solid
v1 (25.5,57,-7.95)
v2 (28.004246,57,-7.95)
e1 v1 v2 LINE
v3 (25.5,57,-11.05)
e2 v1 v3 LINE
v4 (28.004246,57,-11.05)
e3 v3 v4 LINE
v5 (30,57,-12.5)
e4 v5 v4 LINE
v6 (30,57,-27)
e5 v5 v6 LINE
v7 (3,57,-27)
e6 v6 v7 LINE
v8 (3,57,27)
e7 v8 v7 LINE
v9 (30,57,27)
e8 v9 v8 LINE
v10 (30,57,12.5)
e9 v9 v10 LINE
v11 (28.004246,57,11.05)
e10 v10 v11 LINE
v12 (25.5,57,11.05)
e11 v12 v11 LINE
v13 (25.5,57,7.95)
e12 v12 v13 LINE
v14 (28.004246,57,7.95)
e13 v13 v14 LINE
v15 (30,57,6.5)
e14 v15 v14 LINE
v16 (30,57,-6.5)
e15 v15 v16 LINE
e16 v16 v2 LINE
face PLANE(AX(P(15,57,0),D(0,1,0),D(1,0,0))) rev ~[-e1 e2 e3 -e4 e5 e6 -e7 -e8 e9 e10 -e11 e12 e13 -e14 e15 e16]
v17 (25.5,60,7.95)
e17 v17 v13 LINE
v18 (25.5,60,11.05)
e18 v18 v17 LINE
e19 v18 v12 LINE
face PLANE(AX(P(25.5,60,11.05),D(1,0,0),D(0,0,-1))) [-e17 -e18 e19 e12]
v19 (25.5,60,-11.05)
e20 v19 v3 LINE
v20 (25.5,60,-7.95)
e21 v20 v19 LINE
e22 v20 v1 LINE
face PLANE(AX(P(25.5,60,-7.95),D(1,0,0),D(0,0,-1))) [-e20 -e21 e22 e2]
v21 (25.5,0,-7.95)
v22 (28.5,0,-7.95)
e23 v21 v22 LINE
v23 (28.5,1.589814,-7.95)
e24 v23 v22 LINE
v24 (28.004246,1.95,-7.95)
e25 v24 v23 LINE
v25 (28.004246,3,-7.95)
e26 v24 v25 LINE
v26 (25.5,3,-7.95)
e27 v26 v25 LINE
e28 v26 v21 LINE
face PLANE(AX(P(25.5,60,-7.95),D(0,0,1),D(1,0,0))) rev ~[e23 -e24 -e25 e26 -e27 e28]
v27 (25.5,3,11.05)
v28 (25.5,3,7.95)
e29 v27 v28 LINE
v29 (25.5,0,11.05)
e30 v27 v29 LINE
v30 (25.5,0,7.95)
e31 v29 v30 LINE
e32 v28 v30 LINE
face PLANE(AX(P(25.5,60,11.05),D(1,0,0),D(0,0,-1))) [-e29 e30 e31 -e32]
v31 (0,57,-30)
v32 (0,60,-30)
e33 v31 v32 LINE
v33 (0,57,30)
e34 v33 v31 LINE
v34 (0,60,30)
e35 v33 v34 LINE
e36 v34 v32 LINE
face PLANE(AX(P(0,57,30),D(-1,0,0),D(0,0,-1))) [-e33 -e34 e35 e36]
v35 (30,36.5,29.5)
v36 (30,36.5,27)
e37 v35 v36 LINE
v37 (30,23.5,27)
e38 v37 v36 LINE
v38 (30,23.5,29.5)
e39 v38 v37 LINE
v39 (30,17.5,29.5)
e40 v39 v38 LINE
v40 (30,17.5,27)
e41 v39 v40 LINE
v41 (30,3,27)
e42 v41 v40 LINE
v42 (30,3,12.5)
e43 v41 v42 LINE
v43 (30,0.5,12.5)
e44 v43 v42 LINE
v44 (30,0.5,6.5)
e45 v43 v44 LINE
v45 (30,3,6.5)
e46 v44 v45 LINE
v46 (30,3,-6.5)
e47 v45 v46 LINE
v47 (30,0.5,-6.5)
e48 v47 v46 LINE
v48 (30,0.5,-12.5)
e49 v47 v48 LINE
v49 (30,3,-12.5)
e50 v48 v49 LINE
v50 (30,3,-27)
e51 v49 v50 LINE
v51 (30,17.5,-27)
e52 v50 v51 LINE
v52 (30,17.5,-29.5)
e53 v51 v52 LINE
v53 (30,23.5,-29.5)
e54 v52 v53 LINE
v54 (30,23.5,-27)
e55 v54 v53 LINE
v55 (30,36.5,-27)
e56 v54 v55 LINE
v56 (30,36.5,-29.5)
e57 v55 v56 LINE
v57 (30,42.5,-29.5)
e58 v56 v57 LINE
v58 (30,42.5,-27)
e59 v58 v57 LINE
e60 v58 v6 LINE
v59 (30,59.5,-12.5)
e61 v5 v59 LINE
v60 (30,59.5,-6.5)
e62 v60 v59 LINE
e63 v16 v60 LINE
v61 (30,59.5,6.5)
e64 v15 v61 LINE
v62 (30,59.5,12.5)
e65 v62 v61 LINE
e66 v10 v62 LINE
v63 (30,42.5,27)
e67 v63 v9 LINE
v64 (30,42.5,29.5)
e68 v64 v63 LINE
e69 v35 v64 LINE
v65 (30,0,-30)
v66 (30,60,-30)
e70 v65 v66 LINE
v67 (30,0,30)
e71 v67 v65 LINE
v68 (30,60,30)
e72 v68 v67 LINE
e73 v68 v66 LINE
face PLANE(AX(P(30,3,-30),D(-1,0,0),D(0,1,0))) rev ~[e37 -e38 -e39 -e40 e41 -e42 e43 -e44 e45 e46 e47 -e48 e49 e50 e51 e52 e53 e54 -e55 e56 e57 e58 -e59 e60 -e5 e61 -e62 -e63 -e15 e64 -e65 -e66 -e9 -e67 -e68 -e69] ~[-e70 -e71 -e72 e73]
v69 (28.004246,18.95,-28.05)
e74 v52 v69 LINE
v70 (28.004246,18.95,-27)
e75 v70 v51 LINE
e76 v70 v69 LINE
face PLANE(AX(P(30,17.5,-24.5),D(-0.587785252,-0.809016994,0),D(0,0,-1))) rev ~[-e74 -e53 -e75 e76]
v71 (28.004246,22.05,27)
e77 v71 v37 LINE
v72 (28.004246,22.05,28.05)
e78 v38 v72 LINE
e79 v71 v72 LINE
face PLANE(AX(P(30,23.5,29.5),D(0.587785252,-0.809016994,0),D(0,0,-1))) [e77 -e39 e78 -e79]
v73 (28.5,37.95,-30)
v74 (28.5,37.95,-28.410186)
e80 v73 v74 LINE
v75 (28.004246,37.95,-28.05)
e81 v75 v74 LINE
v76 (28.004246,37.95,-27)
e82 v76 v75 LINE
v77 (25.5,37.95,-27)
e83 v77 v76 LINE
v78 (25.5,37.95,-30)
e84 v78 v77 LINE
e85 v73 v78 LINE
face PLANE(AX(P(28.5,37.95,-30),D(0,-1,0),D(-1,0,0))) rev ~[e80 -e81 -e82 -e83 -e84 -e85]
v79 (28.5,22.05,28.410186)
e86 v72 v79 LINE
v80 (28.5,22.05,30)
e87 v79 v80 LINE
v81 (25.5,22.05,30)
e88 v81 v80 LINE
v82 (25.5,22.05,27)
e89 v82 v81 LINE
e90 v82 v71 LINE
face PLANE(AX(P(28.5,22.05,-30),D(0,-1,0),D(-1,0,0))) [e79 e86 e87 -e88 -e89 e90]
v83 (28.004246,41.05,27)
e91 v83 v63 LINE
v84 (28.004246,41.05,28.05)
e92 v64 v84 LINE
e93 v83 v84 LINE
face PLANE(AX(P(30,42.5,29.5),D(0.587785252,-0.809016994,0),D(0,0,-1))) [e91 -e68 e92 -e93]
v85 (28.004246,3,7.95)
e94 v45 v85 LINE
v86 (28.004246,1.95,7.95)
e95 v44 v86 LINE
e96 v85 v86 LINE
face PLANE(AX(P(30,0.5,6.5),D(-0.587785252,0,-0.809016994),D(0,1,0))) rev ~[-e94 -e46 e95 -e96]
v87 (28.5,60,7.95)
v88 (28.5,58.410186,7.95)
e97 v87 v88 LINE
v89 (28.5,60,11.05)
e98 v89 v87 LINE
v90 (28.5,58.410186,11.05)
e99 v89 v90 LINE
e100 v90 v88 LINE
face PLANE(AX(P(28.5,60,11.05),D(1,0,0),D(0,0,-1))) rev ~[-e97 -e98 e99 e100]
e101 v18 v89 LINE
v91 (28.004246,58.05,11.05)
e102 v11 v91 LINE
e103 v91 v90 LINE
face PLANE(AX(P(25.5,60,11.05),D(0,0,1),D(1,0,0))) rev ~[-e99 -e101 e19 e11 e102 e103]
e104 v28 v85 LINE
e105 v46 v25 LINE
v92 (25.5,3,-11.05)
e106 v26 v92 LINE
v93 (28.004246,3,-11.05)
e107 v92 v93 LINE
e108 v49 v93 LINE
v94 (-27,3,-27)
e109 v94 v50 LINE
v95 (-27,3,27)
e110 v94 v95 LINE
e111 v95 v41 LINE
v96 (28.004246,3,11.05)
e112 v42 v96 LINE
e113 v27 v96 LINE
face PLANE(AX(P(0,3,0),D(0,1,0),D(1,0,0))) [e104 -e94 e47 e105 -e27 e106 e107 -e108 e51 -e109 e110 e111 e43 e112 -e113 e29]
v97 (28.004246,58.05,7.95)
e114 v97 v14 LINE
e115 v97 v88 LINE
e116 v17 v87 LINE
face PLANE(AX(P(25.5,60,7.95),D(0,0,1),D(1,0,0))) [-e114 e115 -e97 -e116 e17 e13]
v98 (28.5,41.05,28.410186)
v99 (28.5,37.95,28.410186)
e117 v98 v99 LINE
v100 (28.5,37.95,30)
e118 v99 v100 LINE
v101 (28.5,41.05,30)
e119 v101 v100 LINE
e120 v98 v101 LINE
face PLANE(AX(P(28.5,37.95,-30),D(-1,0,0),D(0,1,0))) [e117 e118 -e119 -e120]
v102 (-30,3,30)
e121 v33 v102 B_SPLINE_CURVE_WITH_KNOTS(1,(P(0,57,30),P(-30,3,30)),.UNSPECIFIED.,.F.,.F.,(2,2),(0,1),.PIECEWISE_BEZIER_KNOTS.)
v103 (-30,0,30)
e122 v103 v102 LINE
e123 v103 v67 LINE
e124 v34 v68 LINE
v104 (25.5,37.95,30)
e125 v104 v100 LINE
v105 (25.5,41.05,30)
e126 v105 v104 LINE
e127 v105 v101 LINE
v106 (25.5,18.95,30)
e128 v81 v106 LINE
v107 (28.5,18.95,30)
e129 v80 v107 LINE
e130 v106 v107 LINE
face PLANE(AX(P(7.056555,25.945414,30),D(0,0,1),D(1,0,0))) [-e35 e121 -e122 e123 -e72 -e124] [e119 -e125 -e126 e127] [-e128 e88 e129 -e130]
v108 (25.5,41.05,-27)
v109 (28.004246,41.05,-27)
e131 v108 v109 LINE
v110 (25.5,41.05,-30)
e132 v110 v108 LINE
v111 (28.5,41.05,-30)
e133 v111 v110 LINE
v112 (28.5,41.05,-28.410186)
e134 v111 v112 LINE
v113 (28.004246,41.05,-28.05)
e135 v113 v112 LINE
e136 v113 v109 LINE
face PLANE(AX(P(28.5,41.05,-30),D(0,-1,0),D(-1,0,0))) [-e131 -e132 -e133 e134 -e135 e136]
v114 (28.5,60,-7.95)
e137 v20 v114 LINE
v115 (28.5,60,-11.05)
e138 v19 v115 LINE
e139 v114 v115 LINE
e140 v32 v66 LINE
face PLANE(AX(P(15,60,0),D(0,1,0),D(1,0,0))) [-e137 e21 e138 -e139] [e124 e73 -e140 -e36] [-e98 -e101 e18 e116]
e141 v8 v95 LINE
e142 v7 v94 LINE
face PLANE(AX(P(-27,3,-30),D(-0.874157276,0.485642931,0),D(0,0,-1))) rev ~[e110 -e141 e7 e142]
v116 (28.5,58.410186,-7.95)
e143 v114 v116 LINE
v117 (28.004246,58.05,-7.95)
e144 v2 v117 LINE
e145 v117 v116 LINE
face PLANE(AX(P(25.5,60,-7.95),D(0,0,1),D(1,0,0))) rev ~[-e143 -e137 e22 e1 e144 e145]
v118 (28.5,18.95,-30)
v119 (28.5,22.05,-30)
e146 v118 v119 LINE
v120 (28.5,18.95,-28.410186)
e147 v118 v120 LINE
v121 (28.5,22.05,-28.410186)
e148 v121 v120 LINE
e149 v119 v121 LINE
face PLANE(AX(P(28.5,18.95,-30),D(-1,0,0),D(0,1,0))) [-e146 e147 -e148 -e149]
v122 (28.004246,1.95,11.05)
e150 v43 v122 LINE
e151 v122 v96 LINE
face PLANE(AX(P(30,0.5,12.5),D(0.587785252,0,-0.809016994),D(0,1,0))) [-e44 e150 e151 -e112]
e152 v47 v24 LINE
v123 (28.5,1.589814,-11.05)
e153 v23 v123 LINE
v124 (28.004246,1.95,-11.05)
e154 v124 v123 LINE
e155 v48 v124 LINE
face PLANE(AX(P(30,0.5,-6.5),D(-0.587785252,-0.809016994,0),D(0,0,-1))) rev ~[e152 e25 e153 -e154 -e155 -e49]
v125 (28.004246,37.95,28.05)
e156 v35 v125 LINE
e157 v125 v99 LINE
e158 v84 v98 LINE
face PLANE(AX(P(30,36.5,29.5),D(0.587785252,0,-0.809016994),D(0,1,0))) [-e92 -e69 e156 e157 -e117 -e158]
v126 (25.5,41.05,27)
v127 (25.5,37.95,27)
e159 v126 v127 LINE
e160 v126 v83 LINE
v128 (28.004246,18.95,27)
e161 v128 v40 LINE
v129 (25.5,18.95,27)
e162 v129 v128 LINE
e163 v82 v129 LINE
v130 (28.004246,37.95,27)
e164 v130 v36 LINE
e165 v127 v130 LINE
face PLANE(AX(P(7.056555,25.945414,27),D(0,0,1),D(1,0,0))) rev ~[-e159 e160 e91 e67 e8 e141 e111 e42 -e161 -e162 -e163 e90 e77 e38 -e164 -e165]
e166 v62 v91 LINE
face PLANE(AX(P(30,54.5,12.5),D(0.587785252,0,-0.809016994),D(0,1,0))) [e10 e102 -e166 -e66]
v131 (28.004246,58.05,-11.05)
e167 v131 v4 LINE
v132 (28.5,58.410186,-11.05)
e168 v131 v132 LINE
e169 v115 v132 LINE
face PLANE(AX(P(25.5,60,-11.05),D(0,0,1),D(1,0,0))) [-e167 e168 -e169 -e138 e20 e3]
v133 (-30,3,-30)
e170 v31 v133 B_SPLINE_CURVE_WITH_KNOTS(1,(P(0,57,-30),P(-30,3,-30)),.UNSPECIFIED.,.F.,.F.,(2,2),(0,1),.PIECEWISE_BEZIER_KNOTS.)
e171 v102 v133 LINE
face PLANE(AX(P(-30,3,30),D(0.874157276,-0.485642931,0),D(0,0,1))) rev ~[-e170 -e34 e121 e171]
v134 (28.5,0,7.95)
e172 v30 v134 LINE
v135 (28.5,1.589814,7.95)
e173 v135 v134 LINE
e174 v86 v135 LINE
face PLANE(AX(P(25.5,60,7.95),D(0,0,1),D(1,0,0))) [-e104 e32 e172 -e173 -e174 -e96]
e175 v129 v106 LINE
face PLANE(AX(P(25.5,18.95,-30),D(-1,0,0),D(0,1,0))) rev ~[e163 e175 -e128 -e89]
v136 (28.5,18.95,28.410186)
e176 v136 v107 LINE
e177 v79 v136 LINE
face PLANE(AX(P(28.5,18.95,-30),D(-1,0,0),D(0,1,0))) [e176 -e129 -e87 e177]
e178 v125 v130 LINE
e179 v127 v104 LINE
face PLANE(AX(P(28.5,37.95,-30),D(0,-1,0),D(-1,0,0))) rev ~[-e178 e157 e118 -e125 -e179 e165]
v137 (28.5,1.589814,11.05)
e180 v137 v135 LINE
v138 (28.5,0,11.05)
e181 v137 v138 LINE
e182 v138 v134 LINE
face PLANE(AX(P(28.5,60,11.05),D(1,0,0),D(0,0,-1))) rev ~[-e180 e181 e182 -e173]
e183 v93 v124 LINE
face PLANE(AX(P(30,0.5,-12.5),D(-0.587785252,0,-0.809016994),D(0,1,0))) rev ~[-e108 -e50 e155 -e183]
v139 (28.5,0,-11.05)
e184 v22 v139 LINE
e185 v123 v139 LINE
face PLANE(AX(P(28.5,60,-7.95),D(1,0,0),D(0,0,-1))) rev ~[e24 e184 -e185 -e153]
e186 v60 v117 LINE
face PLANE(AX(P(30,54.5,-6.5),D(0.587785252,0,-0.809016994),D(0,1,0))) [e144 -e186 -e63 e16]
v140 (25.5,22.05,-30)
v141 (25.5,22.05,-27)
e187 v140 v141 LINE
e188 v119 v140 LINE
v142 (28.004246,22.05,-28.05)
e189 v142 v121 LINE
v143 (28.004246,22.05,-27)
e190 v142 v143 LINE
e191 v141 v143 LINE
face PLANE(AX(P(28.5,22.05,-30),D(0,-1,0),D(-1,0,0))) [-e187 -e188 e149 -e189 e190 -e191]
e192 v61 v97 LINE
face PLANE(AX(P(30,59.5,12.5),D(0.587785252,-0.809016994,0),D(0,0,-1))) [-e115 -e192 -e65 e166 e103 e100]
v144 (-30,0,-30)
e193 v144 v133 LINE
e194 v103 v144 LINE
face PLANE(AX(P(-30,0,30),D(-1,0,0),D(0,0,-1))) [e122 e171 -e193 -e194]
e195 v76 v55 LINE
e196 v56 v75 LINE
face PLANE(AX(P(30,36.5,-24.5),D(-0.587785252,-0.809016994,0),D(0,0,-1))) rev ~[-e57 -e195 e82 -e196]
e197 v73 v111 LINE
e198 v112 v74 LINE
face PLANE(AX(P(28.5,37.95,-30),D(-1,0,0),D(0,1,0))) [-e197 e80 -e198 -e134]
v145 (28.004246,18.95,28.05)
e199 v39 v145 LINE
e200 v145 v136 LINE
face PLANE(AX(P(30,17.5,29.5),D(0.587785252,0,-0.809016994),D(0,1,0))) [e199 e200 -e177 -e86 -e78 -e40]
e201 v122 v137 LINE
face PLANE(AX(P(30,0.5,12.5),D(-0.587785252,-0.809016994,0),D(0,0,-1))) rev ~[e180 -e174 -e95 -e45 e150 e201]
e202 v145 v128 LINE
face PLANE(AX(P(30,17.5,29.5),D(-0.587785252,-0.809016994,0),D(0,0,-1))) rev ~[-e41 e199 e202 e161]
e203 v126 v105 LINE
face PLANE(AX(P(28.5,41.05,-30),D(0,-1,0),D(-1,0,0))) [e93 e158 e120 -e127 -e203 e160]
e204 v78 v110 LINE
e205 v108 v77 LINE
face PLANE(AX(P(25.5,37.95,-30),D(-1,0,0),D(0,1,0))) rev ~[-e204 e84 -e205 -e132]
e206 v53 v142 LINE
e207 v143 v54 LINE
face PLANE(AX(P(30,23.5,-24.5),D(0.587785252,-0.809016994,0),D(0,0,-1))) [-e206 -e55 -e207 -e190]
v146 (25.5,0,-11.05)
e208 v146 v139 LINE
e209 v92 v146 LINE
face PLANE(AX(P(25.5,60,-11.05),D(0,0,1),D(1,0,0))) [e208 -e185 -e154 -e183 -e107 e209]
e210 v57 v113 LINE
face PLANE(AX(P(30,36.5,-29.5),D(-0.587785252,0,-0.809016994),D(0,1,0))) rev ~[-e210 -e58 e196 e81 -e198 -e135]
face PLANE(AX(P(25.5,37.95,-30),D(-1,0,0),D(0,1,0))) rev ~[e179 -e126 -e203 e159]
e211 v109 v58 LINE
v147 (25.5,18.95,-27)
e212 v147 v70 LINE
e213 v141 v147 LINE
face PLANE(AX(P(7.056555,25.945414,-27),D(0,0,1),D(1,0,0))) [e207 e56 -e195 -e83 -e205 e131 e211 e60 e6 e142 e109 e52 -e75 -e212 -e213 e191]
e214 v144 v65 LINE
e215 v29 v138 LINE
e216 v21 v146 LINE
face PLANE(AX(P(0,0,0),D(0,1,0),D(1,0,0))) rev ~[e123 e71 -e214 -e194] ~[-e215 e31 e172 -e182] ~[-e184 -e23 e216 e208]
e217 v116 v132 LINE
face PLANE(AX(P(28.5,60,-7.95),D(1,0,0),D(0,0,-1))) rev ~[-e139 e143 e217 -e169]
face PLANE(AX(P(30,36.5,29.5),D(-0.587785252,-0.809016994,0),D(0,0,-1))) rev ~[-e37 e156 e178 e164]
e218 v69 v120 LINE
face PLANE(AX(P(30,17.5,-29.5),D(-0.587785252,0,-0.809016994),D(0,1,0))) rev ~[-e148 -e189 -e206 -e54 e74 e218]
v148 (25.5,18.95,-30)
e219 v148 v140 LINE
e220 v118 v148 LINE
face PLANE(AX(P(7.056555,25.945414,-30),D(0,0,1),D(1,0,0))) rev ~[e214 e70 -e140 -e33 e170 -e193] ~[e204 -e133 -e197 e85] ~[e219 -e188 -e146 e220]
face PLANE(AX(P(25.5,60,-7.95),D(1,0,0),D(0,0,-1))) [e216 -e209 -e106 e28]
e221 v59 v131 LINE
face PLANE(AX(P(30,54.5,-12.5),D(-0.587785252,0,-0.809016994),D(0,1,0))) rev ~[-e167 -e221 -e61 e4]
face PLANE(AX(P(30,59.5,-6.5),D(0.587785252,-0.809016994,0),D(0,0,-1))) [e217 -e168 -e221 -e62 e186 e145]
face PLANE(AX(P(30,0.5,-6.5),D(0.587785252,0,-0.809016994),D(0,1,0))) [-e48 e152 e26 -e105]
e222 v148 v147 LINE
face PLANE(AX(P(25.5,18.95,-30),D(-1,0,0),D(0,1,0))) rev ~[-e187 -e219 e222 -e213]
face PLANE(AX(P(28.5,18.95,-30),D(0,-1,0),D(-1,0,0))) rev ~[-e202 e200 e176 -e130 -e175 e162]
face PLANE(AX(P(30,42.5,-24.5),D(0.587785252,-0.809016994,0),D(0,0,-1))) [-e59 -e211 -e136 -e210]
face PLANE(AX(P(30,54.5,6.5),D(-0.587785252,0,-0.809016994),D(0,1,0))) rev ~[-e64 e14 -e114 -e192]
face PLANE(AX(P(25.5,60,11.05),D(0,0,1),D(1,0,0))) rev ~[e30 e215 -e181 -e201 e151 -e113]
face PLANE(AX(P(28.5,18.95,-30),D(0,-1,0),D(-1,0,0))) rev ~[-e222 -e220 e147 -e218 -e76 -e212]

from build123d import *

# Parameters (mm, degrees)
SKETCH_1_W                    = 60
SKETCH_1_H                    = 60
EXTRUDE_1_DEPTH               = 3
SKETCH_2_W                    = 30
SKETCH_2_H                    = 60
EXTRUDE_2_DEPTH               = 3
EXTRUDE_3_DEPTH               = 3
EXTRUDE_4_DEPTH               = 3
SKETCH_8_W                    = 3
SKETCH_8_H                    = 3.1
CUT_EXTRUDE_2_DEPTH           = 91.000000167
SKETCH_9_W                    = 3
SKETCH_9_H                    = 3.1
CUT_EXTRUDE_3_DEPTH           = 74.484692447
SKETCH_7_W                    = 6
SKETCH_7_H                    = 5
CUT_EXTRUDE_1_DEPTH           = 2
CUT_EXTRUDE_1_DRAFT           = -36
SKETCH_7_W_2                  = 5
SKETCH_7_H_2                  = 6
CUT_EXTRUDE_1_PROFILE_2_DEPTH = 2
CUT_EXTRUDE_1_PROFILE_2_DRAFT = -36
CUT_EXTRUDE_1_PROFILE_3_DEPTH = 2
CUT_EXTRUDE_1_PROFILE_3_DRAFT = -36
CUT_EXTRUDE_1_PROFILE_4_DEPTH = 2
CUT_EXTRUDE_1_PROFILE_4_DRAFT = -36
CUT_EXTRUDE_1_PROFILE_5_DEPTH = 2
CUT_EXTRUDE_1_PROFILE_5_DRAFT = -36
CUT_EXTRUDE_1_PROFILE_6_DEPTH = 2
CUT_EXTRUDE_1_PROFILE_6_DRAFT = -36
CUT_EXTRUDE_1_PROFILE_7_DEPTH = 2
CUT_EXTRUDE_1_PROFILE_7_DRAFT = -36
CUT_EXTRUDE_1_PROFILE_8_DEPTH = 2
CUT_EXTRUDE_1_PROFILE_8_DRAFT = -36


with BuildPart() as part:
    # 草图1 → 凸台-拉伸1 (new body)
    with BuildSketch(Plane(origin=(0, 0, 0), x_dir=(1, 0, 0), z_dir=(0, 1, 0))):
        Rectangle(SKETCH_1_W, SKETCH_1_H)
    extrude(amount=EXTRUDE_1_DEPTH)



with BuildPart() as body_2:
    # 草图2 → 凸台-拉伸2 (new body)
    with BuildSketch(Plane(origin=(0, 57, 0), x_dir=(1, 0, 0), z_dir=(0, 1, 0))):
        with Locations((15, 0)):
            Rectangle(SKETCH_2_W, SKETCH_2_H)
    extrude(amount=EXTRUDE_2_DEPTH)


with BuildPart() as part_1:
    add(part.part)

    add(body_2.part)  # 放样1 merges body 2
    # 草图3 → 放样1 section 0
    with BuildSketch(Plane.XZ.offset(-57)):
        with BuildLine():
            Line((0, 30), (3, 30))
            Line((3, 30), (3, -30))
            Line((3, -30), (0, -30))
            Line((0, -30), (0, 30))
        make_face()
    # 草图4 → 放样1 section 1
    with BuildSketch(Plane(origin=(0, 3, 0), x_dir=(1, 0, 0), z_dir=(0, 1, 0))):
        with BuildLine():
            Line((-30, 30), (-27, 30))
            Line((-27, 30), (-27, -30))
            Line((-27, -30), (-30, -30))
            Line((-30, -30), (-30, 30))
        make_face()
    loft()

    # 草图5 → 凸台-拉伸3 (add)
    with BuildSketch(Plane.XY.offset(30)):
        Polygon((30, 57), (3, 57), (-27, 3), (30, 3), align=None)
    extrude(amount=-EXTRUDE_3_DEPTH)

    # 草图6 → 凸台-拉伸4 (add)
    with BuildSketch(Plane(origin=(0, 0, -30), x_dir=(-1, 0, 0), z_dir=(0, 0, -1))):
        Polygon((-30, 57), (-3, 57), (27, 3), (-30, 3), align=None)
    extrude(amount=-EXTRUDE_4_DEPTH)

    # 草图8 → 切除-拉伸2 (cut, through all)
    with BuildSketch(Plane(origin=(0, 0, -30), x_dir=(-1, 0, 0), z_dir=(0, 0, -1))):
        with Locations((-27, 39.5)):
            Rectangle(SKETCH_8_W, SKETCH_8_H)
        with Locations((-27, 20.5)):
            Rectangle(SKETCH_8_W, SKETCH_8_H)
    extrude(amount=-CUT_EXTRUDE_2_DEPTH, mode=Mode.SUBTRACT)

    # 草图9 → 切除-拉伸3 (cut, through all)
    with BuildSketch(Plane(origin=(0, 60, 0), x_dir=(1, 0, 0), z_dir=(0, 1, 0))):
        with Locations((27, 9.5)):
            Rectangle(SKETCH_9_W, SKETCH_9_H)
        with Locations((27, -9.5)):
            Rectangle(SKETCH_9_W, SKETCH_9_H)
    extrude(amount=-CUT_EXTRUDE_3_DEPTH, mode=Mode.SUBTRACT)


with BuildPart() as cut_extrude_1_tool:
    # 草图7 → 切除-拉伸1 (with draft: the straight prism first)
    with BuildSketch(Plane(origin=(30, 0, 0), x_dir=(0, 0, -1), z_dir=(1, 0, 0))):
        with Locations((9.5, 3)):
            Rectangle(SKETCH_7_W, SKETCH_7_H)
    extrude(amount=-CUT_EXTRUDE_1_DEPTH)
    # 切除-拉伸1: the draft: its side faces are tilted about the plane it starts from
    cut_extrude_1_sides = [cut_extrude_1_tool.faces().sort_by_distance(p)[0] for p in [
        (29, 3, -6.5),
        (29, 0.5, -9.5),
        (29, 3, -12.5),
        (29, 5.5, -9.5),
    ]]
    draft(cut_extrude_1_sides, Plane(origin=(30, 0, 0), x_dir=(0, 0, -1), z_dir=(1, 0, 0)), CUT_EXTRUDE_1_DRAFT)


with BuildPart() as part_2:
    add(part_1.part)

    # 切除-拉伸1: cut by cut_extrude_1_tool
    add(cut_extrude_1_tool.part, mode=Mode.SUBTRACT)


with BuildPart() as cut_extrude_1_profile_2_tool:
    # 草图7 → 切除-拉伸1 profile 2 (with draft: the straight prism first)
    with BuildSketch(Plane(origin=(30, 0, 0), x_dir=(0, 0, -1), z_dir=(1, 0, 0))):
        with Locations((27, 39.5)):
            Rectangle(SKETCH_7_W_2, SKETCH_7_H_2)
    extrude(amount=-CUT_EXTRUDE_1_PROFILE_2_DEPTH)
    # 切除-拉伸1 profile 2: the draft: its side faces are tilted about the plane it starts from
    cut_extrude_1_profile_2_sides = [cut_extrude_1_profile_2_tool.faces().sort_by_distance(p)[0] for p in [
        (29, 36.5, -27),
        (29, 39.5, -29.5),
        (29, 42.5, -27),
        (29, 39.5, -24.5),
    ]]
    draft(cut_extrude_1_profile_2_sides, Plane(origin=(30, 0, 0), x_dir=(0, 0, -1), z_dir=(1, 0, 0)), CUT_EXTRUDE_1_PROFILE_2_DRAFT)


with BuildPart() as part_3:
    add(part_2.part)

    # 切除-拉伸1 profile 2: cut by cut_extrude_1_profile_2_tool
    add(cut_extrude_1_profile_2_tool.part, mode=Mode.SUBTRACT)


with BuildPart() as cut_extrude_1_profile_3_tool:
    # 草图7 → 切除-拉伸1 profile 3 (with draft: the straight prism first)
    with BuildSketch(Plane(origin=(30, 0, 0), x_dir=(0, 0, -1), z_dir=(1, 0, 0))):
        with Locations((27, 20.5)):
            Rectangle(SKETCH_7_W_2, SKETCH_7_H_2)
    extrude(amount=-CUT_EXTRUDE_1_PROFILE_3_DEPTH)
    # 切除-拉伸1 profile 3: the draft: its side faces are tilted about the plane it starts from
    cut_extrude_1_profile_3_sides = [cut_extrude_1_profile_3_tool.faces().sort_by_distance(p)[0] for p in [
        (29, 23.5, -27),
        (29, 20.5, -24.5),
        (29, 17.5, -27),
        (29, 20.5, -29.5),
    ]]
    draft(cut_extrude_1_profile_3_sides, Plane(origin=(30, 0, 0), x_dir=(0, 0, -1), z_dir=(1, 0, 0)), CUT_EXTRUDE_1_PROFILE_3_DRAFT)


with BuildPart() as part_4:
    add(part_3.part)

    # 切除-拉伸1 profile 3: cut by cut_extrude_1_profile_3_tool
    add(cut_extrude_1_profile_3_tool.part, mode=Mode.SUBTRACT)


with BuildPart() as cut_extrude_1_profile_4_tool:
    # 草图7 → 切除-拉伸1 profile 4 (with draft: the straight prism first)
    with BuildSketch(Plane(origin=(30, 0, 0), x_dir=(0, 0, -1), z_dir=(1, 0, 0))):
        with Locations((-9.5, 3)):
            Rectangle(SKETCH_7_W, SKETCH_7_H)
    extrude(amount=-CUT_EXTRUDE_1_PROFILE_4_DEPTH)
    # 切除-拉伸1 profile 4: the draft: its side faces are tilted about the plane it starts from
    cut_extrude_1_profile_4_sides = [cut_extrude_1_profile_4_tool.faces().sort_by_distance(p)[0] for p in [
        (29, 3, 6.5),
        (29, 5.5, 9.5),
        (29, 3, 12.5),
        (29, 0.5, 9.5),
    ]]
    draft(cut_extrude_1_profile_4_sides, Plane(origin=(30, 0, 0), x_dir=(0, 0, -1), z_dir=(1, 0, 0)), CUT_EXTRUDE_1_PROFILE_4_DRAFT)


with BuildPart() as part_5:
    add(part_4.part)

    # 切除-拉伸1 profile 4: cut by cut_extrude_1_profile_4_tool
    add(cut_extrude_1_profile_4_tool.part, mode=Mode.SUBTRACT)


with BuildPart() as cut_extrude_1_profile_5_tool:
    # 草图7 → 切除-拉伸1 profile 5 (with draft: the straight prism first)
    with BuildSketch(Plane(origin=(30, 0, 0), x_dir=(0, 0, -1), z_dir=(1, 0, 0))):
        with Locations((-27, 20.5)):
            Rectangle(SKETCH_7_W_2, SKETCH_7_H_2)
    extrude(amount=-CUT_EXTRUDE_1_PROFILE_5_DEPTH)
    # 切除-拉伸1 profile 5: the draft: its side faces are tilted about the plane it starts from
    cut_extrude_1_profile_5_sides = [cut_extrude_1_profile_5_tool.faces().sort_by_distance(p)[0] for p in [
        (29, 23.5, 27),
        (29, 20.5, 29.5),
        (29, 17.5, 27),
        (29, 20.5, 24.5),
    ]]
    draft(cut_extrude_1_profile_5_sides, Plane(origin=(30, 0, 0), x_dir=(0, 0, -1), z_dir=(1, 0, 0)), CUT_EXTRUDE_1_PROFILE_5_DRAFT)


with BuildPart() as part_6:
    add(part_5.part)

    # 切除-拉伸1 profile 5: cut by cut_extrude_1_profile_5_tool
    add(cut_extrude_1_profile_5_tool.part, mode=Mode.SUBTRACT)


with BuildPart() as cut_extrude_1_profile_6_tool:
    # 草图7 → 切除-拉伸1 profile 6 (with draft: the straight prism first)
    with BuildSketch(Plane(origin=(30, 0, 0), x_dir=(0, 0, -1), z_dir=(1, 0, 0))):
        with Locations((-27, 39.5)):
            Rectangle(SKETCH_7_W_2, SKETCH_7_H_2)
    extrude(amount=-CUT_EXTRUDE_1_PROFILE_6_DEPTH)
    # 切除-拉伸1 profile 6: the draft: its side faces are tilted about the plane it starts from
    cut_extrude_1_profile_6_sides = [cut_extrude_1_profile_6_tool.faces().sort_by_distance(p)[0] for p in [
        (29, 36.5, 27),
        (29, 39.5, 24.5),
        (29, 42.5, 27),
        (29, 39.5, 29.5),
    ]]
    draft(cut_extrude_1_profile_6_sides, Plane(origin=(30, 0, 0), x_dir=(0, 0, -1), z_dir=(1, 0, 0)), CUT_EXTRUDE_1_PROFILE_6_DRAFT)


with BuildPart() as part_7:
    add(part_6.part)

    # 切除-拉伸1 profile 6: cut by cut_extrude_1_profile_6_tool
    add(cut_extrude_1_profile_6_tool.part, mode=Mode.SUBTRACT)


with BuildPart() as cut_extrude_1_profile_7_tool:
    # 草图7 → 切除-拉伸1 profile 7 (with draft: the straight prism first)
    with BuildSketch(Plane(origin=(30, 0, 0), x_dir=(0, 0, -1), z_dir=(1, 0, 0))):
        with Locations((-9.5, 57)):
            Rectangle(SKETCH_7_W, SKETCH_7_H)
    extrude(amount=-CUT_EXTRUDE_1_PROFILE_7_DEPTH)
    # 切除-拉伸1 profile 7: the draft: its side faces are tilted about the plane it starts from
    cut_extrude_1_profile_7_sides = [cut_extrude_1_profile_7_tool.faces().sort_by_distance(p)[0] for p in [
        (29, 57, 6.5),
        (29, 59.5, 9.5),
        (29, 57, 12.5),
        (29, 54.5, 9.5),
    ]]
    draft(cut_extrude_1_profile_7_sides, Plane(origin=(30, 0, 0), x_dir=(0, 0, -1), z_dir=(1, 0, 0)), CUT_EXTRUDE_1_PROFILE_7_DRAFT)


with BuildPart() as part_8:
    add(part_7.part)

    # 切除-拉伸1 profile 7: cut by cut_extrude_1_profile_7_tool
    add(cut_extrude_1_profile_7_tool.part, mode=Mode.SUBTRACT)


with BuildPart() as cut_extrude_1_profile_8_tool:
    # 草图7 → 切除-拉伸1 profile 8 (with draft: the straight prism first)
    with BuildSketch(Plane(origin=(30, 0, 0), x_dir=(0, 0, -1), z_dir=(1, 0, 0))):
        with Locations((9.5, 57)):
            Rectangle(SKETCH_7_W, SKETCH_7_H)
    extrude(amount=-CUT_EXTRUDE_1_PROFILE_8_DEPTH)
    # 切除-拉伸1 profile 8: the draft: its side faces are tilted about the plane it starts from
    cut_extrude_1_profile_8_sides = [cut_extrude_1_profile_8_tool.faces().sort_by_distance(p)[0] for p in [
        (29, 57, -6.5),
        (29, 54.5, -9.5),
        (29, 57, -12.5),
        (29, 59.5, -9.5),
    ]]
    draft(cut_extrude_1_profile_8_sides, Plane(origin=(30, 0, 0), x_dir=(0, 0, -1), z_dir=(1, 0, 0)), CUT_EXTRUDE_1_PROFILE_8_DRAFT)


with BuildPart() as part_9:
    add(part_8.part)

    # 切除-拉伸1 profile 8: cut by cut_extrude_1_profile_8_tool
    add(cut_extrude_1_profile_8_tool.part, mode=Mode.SUBTRACT)


solid = part_9.part
